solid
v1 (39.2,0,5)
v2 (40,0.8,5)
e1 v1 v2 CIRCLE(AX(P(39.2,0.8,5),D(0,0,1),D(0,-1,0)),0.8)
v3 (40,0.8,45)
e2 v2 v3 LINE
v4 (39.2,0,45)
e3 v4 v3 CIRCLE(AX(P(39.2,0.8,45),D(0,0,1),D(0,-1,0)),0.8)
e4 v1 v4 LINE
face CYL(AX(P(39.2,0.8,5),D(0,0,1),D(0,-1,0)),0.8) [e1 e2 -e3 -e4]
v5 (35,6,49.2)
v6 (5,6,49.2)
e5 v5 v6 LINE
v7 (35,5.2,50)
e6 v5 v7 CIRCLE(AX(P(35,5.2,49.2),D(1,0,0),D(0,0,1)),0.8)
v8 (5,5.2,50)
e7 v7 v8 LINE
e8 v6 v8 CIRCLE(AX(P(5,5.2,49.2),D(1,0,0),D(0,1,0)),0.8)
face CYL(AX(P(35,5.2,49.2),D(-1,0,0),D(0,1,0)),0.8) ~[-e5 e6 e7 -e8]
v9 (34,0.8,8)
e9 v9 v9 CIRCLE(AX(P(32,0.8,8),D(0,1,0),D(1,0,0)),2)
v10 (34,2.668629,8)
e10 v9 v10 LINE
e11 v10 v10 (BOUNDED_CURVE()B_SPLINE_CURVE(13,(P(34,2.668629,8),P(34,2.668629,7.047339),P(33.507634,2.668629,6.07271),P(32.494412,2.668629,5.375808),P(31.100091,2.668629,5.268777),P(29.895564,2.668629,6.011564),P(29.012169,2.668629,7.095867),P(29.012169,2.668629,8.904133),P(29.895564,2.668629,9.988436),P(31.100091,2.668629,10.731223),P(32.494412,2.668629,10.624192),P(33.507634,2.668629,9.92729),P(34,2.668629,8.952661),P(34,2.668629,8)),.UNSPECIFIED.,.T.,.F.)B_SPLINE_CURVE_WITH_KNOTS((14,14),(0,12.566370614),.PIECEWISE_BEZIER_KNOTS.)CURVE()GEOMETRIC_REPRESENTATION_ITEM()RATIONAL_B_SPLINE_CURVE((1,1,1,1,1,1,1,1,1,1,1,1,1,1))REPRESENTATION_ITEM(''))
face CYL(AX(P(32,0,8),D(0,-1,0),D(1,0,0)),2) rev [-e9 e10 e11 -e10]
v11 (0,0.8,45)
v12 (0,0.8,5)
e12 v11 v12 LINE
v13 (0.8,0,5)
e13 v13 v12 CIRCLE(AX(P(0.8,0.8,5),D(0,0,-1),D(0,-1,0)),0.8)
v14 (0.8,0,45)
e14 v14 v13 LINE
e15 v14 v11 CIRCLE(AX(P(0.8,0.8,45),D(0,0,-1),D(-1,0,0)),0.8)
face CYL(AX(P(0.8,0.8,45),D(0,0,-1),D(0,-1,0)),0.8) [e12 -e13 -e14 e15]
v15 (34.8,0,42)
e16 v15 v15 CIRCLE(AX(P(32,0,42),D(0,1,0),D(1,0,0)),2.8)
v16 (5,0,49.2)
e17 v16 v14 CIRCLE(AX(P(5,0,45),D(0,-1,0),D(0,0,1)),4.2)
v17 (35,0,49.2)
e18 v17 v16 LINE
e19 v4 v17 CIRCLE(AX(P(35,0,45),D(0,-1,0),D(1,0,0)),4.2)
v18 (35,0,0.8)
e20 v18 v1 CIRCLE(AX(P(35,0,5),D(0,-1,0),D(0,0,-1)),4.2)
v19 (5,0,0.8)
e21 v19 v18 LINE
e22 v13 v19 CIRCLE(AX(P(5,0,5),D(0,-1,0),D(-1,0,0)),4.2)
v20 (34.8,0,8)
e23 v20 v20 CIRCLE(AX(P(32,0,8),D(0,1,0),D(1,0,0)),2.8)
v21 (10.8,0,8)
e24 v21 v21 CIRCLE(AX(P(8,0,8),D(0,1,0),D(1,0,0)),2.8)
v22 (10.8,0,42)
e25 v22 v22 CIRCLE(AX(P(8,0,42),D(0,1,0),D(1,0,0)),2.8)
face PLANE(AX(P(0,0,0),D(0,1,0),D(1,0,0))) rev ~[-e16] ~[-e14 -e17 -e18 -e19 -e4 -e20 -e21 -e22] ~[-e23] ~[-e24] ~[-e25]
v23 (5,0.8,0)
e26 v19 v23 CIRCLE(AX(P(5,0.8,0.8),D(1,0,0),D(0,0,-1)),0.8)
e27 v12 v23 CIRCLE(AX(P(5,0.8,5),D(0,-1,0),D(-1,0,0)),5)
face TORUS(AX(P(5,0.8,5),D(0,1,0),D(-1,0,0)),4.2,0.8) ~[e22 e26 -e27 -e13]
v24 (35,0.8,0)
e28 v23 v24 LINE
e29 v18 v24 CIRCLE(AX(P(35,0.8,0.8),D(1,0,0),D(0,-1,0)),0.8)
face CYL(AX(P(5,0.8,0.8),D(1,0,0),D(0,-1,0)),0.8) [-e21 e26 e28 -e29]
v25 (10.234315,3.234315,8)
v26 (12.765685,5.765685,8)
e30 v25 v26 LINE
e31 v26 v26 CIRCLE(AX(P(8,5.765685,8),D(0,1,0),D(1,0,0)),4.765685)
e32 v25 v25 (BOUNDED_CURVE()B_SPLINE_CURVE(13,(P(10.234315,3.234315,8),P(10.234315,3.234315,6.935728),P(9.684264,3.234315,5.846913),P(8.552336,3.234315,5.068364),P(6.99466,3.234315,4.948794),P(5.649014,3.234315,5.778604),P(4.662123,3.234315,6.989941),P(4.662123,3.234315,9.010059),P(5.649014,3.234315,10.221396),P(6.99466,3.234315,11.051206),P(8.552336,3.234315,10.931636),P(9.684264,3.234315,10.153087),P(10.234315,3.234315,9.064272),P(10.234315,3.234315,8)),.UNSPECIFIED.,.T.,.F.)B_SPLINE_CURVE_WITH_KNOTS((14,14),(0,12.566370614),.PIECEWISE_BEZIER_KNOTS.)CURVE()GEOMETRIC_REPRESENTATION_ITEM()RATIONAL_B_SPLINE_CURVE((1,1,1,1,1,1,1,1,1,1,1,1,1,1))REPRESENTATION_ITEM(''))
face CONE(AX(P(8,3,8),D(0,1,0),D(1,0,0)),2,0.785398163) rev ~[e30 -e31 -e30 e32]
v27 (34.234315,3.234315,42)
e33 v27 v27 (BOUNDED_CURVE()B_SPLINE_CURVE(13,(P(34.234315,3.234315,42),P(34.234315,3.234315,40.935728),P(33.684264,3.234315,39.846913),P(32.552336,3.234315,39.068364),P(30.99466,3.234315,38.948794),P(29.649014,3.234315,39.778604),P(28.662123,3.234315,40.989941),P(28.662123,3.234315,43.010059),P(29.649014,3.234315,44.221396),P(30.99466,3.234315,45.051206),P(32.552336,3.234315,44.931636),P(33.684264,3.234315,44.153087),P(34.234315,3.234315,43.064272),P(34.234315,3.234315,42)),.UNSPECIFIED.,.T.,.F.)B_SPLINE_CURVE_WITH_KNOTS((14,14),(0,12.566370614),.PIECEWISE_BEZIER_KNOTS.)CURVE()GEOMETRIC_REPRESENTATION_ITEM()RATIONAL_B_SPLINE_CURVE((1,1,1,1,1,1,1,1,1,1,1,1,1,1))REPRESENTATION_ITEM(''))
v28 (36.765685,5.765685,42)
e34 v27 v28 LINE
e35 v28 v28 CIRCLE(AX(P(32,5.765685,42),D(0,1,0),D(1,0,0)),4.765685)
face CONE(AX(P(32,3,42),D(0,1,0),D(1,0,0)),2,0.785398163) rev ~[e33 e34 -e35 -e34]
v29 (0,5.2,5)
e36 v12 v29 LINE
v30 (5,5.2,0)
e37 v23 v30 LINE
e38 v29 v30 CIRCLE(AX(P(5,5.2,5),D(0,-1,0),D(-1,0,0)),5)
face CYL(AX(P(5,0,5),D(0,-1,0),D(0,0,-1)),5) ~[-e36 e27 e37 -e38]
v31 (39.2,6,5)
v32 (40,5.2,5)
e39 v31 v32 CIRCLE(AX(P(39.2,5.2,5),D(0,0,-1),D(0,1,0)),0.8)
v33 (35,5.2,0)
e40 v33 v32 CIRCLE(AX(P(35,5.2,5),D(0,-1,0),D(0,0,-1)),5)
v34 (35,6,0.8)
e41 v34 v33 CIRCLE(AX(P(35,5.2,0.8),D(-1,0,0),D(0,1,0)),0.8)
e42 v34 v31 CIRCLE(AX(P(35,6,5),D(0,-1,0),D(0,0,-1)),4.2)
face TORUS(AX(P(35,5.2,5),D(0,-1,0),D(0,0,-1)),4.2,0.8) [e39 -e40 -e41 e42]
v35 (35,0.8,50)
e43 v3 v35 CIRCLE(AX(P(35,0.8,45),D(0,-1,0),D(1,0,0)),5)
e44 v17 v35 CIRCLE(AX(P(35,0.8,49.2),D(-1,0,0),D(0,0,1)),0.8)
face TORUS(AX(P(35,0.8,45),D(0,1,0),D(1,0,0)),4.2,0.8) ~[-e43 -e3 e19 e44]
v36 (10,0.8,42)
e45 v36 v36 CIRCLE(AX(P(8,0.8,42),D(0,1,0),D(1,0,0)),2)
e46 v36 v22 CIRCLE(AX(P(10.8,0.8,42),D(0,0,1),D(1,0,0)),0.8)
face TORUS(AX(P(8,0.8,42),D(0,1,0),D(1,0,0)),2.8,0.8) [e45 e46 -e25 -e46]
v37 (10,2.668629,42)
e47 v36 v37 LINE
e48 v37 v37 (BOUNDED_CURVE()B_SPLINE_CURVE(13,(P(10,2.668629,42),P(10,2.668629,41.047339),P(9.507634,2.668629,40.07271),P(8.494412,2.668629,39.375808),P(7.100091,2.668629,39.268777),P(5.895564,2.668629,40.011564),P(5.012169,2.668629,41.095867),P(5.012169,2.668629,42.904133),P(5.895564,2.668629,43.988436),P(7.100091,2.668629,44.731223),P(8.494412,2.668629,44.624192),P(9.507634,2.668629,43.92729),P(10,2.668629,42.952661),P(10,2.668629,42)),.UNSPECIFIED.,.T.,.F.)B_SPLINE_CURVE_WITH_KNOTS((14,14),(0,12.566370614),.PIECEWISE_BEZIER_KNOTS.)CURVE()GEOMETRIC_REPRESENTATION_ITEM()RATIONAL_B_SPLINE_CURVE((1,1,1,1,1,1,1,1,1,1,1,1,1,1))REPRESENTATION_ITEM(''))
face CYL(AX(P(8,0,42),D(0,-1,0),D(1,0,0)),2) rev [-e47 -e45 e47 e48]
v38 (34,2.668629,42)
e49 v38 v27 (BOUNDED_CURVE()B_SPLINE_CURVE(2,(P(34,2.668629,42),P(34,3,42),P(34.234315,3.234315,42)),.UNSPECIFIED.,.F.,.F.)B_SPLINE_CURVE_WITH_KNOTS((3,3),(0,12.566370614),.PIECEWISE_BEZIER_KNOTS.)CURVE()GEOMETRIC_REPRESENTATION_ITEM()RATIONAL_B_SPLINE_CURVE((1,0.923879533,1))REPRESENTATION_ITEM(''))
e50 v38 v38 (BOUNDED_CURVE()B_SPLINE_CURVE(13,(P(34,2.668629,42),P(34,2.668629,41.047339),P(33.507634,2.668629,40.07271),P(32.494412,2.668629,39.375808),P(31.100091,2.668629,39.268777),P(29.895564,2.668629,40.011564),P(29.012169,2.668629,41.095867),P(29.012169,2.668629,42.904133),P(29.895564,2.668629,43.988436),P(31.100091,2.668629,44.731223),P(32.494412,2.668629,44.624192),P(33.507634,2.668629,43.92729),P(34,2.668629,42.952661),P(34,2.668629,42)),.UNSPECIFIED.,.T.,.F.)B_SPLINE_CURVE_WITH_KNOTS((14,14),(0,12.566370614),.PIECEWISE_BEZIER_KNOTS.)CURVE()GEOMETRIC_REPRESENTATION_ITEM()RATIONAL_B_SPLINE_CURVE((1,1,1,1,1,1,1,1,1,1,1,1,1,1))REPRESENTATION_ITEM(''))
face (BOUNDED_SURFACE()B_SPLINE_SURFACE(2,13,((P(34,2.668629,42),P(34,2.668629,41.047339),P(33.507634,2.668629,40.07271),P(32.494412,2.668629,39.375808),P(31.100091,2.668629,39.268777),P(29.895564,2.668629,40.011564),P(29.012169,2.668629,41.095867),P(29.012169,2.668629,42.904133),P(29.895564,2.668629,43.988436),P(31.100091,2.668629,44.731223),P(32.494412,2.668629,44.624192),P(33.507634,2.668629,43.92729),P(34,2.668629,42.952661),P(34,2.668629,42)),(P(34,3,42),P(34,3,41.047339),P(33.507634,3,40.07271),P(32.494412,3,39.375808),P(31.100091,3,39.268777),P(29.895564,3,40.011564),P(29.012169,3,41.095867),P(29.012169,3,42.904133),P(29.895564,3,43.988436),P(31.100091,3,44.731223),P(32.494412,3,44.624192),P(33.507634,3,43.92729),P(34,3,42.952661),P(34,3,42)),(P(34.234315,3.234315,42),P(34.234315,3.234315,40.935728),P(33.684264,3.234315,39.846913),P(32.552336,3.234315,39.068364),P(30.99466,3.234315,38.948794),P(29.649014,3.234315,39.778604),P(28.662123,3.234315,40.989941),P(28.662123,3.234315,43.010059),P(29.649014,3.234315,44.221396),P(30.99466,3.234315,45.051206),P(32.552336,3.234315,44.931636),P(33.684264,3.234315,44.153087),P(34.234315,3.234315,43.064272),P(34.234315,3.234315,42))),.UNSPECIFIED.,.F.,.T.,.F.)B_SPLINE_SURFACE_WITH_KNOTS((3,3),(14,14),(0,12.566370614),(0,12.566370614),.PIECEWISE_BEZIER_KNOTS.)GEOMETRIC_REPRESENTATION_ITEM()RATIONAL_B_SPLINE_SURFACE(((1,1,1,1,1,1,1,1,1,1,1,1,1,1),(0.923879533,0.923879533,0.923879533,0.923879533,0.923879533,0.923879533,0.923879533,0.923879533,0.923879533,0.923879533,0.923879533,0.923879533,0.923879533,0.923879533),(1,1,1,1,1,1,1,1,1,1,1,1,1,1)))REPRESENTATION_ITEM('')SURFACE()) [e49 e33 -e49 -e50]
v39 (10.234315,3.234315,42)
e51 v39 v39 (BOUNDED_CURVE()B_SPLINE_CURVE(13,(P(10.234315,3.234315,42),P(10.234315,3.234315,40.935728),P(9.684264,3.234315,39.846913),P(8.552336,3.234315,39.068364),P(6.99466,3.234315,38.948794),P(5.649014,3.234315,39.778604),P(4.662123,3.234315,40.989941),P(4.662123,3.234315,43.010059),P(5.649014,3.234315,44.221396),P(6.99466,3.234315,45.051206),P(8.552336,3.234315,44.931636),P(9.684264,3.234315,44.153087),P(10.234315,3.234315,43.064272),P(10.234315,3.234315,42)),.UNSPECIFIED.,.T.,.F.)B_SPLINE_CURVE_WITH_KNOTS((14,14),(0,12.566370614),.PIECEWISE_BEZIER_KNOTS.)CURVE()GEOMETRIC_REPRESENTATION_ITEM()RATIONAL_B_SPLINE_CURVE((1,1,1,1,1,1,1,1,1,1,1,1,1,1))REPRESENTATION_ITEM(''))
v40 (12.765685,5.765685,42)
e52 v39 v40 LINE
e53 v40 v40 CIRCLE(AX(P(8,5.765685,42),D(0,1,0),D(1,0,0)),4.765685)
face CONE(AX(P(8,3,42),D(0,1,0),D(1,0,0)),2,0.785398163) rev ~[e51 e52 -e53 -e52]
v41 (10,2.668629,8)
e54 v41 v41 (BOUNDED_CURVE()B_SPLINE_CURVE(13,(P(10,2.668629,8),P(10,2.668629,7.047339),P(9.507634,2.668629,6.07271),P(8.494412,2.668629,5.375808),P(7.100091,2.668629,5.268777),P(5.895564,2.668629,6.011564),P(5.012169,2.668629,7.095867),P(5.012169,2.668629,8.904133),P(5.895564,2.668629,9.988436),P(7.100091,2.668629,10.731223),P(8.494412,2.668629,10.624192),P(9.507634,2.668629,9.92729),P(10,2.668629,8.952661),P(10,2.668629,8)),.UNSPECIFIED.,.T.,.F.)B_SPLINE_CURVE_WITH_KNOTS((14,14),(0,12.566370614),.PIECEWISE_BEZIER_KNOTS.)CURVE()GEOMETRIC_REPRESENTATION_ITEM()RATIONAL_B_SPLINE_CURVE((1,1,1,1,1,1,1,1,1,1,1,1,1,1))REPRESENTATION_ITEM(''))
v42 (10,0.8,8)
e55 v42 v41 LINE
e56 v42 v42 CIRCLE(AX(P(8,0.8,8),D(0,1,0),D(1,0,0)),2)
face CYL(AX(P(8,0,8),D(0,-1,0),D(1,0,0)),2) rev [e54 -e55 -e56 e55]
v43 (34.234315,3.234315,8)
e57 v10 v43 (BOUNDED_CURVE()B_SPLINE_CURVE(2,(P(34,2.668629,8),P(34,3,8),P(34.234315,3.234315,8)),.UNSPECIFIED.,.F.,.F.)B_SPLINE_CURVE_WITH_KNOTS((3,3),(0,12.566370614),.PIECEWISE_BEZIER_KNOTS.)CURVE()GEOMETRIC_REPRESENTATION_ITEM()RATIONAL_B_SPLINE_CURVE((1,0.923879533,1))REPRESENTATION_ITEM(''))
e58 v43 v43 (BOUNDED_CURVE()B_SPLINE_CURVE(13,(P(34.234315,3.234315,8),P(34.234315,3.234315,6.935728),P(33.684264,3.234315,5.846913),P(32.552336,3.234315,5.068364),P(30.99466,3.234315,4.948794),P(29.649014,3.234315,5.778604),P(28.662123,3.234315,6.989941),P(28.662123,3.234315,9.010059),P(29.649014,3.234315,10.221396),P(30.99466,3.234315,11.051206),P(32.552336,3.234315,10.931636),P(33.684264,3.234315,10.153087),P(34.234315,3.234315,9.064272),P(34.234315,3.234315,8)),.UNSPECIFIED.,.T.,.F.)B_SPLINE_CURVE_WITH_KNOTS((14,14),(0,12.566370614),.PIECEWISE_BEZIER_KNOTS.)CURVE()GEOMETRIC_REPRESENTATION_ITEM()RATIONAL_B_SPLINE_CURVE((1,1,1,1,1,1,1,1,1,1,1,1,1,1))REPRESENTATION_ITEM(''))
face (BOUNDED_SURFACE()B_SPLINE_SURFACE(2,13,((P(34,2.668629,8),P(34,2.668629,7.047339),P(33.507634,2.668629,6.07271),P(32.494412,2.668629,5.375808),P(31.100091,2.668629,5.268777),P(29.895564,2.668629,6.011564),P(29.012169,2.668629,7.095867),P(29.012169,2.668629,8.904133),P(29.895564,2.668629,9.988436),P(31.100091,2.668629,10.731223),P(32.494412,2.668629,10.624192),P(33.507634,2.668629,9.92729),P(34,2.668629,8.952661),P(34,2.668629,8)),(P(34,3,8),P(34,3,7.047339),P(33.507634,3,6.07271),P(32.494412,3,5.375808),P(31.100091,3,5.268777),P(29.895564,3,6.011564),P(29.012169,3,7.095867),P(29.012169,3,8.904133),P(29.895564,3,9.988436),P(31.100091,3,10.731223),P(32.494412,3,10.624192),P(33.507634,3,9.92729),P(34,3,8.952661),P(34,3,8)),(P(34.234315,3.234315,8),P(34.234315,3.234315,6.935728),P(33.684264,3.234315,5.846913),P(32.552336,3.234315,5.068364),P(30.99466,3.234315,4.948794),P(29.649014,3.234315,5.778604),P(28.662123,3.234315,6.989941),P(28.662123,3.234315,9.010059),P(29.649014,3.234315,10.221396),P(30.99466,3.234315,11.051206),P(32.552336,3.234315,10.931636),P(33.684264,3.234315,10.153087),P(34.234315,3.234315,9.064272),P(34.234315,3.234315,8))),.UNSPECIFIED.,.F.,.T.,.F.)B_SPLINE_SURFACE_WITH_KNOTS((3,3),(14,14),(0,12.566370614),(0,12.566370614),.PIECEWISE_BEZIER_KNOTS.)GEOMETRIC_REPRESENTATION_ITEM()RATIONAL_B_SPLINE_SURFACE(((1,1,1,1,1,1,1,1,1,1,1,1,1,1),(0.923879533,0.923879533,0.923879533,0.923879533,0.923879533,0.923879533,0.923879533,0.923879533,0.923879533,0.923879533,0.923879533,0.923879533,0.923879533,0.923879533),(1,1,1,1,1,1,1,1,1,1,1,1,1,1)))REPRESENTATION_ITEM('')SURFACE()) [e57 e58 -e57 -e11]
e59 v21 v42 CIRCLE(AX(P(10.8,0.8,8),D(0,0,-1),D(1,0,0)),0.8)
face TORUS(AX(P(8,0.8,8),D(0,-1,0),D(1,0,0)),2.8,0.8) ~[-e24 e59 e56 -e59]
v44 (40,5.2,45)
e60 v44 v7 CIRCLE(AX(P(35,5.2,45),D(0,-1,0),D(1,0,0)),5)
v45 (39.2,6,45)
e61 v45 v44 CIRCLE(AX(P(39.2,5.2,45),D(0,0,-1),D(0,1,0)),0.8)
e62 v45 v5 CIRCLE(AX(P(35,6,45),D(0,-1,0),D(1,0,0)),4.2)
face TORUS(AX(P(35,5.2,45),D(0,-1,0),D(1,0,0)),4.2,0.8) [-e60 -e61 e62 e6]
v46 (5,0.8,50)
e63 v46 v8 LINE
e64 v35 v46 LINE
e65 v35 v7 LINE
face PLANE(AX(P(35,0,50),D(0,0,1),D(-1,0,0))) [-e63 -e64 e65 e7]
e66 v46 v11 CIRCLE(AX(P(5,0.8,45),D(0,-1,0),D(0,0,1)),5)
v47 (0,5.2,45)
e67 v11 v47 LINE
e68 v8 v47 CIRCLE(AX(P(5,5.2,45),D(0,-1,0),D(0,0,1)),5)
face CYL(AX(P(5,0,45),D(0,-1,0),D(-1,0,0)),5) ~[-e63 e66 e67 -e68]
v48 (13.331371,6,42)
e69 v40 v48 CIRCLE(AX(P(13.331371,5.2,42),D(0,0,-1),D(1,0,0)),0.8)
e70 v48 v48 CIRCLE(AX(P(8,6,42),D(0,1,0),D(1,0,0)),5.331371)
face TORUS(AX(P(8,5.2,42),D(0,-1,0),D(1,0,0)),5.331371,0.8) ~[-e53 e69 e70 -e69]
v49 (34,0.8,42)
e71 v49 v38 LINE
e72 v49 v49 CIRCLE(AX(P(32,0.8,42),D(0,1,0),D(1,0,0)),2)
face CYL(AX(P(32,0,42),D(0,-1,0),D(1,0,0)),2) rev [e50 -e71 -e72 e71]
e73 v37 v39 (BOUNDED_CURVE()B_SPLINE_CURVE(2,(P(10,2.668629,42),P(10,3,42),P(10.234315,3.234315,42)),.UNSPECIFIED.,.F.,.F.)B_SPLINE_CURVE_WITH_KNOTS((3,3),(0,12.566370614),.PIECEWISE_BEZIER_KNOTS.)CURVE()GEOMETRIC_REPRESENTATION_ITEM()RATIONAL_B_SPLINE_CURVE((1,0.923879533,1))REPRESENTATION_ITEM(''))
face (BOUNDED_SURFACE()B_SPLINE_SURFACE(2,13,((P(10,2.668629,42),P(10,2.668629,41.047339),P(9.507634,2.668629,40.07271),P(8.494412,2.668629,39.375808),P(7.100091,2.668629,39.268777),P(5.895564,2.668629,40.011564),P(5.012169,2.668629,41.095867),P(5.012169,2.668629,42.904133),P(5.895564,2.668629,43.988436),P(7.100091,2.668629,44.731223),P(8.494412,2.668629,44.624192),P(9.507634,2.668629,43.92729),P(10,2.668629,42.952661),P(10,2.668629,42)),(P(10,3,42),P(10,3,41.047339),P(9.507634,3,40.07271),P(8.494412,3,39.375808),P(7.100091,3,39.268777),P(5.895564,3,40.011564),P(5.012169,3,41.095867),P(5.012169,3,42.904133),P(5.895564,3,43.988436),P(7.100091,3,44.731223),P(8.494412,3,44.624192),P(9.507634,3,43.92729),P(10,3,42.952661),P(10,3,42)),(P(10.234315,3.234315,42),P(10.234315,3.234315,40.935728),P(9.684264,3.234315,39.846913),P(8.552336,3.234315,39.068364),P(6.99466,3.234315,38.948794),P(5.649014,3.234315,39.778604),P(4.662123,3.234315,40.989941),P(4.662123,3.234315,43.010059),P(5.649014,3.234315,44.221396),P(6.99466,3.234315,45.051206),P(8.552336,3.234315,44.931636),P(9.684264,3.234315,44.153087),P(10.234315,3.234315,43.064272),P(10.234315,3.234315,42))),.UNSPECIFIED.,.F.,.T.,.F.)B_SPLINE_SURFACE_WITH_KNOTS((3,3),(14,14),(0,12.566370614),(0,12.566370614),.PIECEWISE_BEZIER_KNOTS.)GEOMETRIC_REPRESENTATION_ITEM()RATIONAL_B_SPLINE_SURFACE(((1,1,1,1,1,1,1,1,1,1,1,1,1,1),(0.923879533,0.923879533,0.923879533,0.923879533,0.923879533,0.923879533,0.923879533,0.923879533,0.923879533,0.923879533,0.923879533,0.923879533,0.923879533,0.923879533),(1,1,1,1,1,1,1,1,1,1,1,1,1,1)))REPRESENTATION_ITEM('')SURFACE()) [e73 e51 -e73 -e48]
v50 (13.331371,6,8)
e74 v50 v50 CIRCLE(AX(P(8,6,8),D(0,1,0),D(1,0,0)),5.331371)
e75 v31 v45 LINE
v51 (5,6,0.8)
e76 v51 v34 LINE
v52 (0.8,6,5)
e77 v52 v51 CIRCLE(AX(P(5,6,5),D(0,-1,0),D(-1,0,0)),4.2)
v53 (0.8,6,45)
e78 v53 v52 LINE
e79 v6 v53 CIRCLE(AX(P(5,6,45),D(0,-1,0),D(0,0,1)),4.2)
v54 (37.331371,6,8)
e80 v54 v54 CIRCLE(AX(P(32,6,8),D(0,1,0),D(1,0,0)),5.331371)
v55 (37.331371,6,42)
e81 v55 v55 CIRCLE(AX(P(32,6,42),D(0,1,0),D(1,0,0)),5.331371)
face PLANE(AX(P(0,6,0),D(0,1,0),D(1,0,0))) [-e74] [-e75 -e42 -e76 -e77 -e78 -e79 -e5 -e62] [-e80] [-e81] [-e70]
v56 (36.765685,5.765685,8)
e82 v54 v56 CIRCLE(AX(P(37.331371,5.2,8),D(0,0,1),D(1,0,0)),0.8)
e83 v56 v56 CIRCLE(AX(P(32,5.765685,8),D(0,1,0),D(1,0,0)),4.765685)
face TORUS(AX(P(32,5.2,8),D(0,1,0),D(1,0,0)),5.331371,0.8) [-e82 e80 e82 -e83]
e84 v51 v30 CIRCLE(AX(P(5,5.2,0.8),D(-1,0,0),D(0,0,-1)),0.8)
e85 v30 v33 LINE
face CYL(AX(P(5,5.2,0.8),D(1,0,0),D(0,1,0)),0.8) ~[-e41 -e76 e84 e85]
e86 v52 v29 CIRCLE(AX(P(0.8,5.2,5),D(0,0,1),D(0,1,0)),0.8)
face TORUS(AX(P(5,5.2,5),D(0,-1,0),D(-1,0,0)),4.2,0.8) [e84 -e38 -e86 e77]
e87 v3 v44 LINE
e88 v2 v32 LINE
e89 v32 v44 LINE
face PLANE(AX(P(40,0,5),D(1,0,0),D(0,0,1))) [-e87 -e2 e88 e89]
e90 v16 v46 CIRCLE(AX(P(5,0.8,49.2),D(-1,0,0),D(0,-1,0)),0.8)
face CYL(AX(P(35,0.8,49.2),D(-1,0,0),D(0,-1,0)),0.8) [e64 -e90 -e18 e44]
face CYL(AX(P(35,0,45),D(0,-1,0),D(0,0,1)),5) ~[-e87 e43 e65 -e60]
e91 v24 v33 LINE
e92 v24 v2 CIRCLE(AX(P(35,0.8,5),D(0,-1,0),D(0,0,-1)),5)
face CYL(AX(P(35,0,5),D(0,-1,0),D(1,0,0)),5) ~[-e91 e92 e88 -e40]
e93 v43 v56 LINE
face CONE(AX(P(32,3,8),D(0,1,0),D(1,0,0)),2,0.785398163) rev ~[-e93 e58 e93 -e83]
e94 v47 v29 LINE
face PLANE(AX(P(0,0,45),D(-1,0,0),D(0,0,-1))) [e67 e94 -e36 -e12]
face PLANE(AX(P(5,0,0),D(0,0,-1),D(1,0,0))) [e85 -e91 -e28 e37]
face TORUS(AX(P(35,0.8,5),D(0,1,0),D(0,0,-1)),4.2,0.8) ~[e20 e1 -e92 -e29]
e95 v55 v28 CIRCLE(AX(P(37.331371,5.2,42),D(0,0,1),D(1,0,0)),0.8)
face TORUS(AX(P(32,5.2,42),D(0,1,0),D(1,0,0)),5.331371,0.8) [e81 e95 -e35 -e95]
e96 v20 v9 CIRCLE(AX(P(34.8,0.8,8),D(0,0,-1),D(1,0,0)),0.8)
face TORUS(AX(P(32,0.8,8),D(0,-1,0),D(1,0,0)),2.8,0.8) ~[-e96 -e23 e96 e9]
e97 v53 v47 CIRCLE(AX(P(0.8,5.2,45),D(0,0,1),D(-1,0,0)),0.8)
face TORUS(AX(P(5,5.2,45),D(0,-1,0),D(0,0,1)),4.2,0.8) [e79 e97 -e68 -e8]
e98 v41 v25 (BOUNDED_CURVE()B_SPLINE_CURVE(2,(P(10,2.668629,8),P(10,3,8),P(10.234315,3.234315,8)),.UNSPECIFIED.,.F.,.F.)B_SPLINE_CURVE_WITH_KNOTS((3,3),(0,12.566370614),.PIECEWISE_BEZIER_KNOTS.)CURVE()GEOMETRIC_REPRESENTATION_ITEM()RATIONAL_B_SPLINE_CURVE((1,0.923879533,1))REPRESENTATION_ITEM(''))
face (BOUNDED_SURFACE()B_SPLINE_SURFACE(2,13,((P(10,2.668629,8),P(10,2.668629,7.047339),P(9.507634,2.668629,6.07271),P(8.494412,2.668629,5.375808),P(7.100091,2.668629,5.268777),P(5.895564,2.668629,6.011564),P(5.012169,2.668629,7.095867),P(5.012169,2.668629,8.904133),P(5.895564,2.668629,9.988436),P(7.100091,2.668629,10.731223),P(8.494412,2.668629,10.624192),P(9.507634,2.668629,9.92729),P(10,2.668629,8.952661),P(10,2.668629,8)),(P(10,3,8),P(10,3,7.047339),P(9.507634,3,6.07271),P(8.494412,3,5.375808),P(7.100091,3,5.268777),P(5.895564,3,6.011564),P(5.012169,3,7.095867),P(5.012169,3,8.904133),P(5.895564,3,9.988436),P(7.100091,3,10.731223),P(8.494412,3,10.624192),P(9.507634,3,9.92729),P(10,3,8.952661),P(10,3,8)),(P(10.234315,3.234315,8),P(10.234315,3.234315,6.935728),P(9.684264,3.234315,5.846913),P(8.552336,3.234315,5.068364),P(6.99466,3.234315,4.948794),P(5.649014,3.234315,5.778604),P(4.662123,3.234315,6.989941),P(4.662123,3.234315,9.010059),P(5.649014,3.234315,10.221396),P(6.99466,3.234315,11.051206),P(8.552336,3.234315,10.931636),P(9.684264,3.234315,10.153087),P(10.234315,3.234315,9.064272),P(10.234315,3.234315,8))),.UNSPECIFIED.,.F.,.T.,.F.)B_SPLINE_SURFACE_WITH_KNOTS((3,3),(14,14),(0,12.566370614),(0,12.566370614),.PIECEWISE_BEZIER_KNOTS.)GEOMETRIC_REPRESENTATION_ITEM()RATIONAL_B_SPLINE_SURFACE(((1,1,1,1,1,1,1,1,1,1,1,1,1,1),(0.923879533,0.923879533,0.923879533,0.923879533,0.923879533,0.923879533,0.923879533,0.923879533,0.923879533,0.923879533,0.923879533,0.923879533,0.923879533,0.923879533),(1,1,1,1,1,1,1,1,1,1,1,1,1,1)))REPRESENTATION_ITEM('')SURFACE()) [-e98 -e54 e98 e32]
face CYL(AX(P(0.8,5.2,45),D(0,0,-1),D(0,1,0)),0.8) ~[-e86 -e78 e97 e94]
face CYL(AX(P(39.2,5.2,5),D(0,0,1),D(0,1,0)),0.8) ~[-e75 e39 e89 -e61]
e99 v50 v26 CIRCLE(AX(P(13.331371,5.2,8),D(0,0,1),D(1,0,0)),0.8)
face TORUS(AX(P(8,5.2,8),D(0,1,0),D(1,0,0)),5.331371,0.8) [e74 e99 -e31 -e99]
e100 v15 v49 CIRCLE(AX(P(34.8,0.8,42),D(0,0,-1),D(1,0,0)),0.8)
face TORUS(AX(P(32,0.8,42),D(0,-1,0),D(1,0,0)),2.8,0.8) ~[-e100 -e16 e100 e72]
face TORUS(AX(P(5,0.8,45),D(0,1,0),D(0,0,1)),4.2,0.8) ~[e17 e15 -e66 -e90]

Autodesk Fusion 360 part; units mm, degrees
sketch "Skizze1" plane through (0, 0, 0) normal (0, 1, 0) x (1, 0, 0)
  line L0 (5, 0) -> (35, 0)
  line L1 (40, -5) -> (40, -45)
  line L2 (35, -50) -> (5, -50)
  line L3 (0, -45) -> (0, -5)
  arc A0 (5, 0) -> (0, -5) centre (5, -5) ccw
  arc A1 (40, -5) -> (35, 0) centre (35, -5) ccw
  arc A2 (35, -50) -> (40, -45) centre (35, -45) ccw
  arc A3 (0, -45) -> (5, -50) centre (5, -45) ccw
  circle A4 centre (8, -42) radius 2
  circle A5 centre (32, -42) radius 2
  circle A6 centre (8, -8) radius 2
  circle A7 centre (32, -8) radius 2
  point P0 (0, -50)
  dimension "d1" = 50
  dimension "d2" = 5
  dimension "d3" = 5
  dimension "d4" = 5
  dimension "d5" = 5
  dimension "d6" = 40
  dimension "d8" = 4
  dimension "d9" = 4
  dimension "d10" = 8
  dimension "d11" = 8
  dimension "d12" = 8
  dimension "d13" = 8
  dimension "d19" = 4
  dimension "d20" = 4
  dimension "d21" = 8
  dimension "d22" = 8
extrude "Extrusion1" add sketch "Skizze1" along normal blind 6
chamfer "Fase1" distance 3 angle 45 2 edges at (30.1353, 6, 41.2768) (6.1353, 6, 41.2768)
chamfer "Fase1" distance 3 angle 45 2 edges at (30.1353, 6, 7.2768) (6.1353, 6, 7.2768)
fillet "Abrundung1" radius 0.8 18 faces at (40, 2, 18.3333) (36.6353, 4, 0.275) (15, 2, 0) (2.7089, 4, 0.5558) (0, 2, 31.6667) (2.7089, 4, 49.4442) (25, 2, 50) (38.0908, 4, 48.9303) (17.0391, 6, 20.6364) (9.9975, 2, 42.0997) (32.9643, 5.3333, 12.2247) (10.1667, 5.3333, 38.2472) (34.1667, 5.3333, 38.2472) (9.9975, 2, 8.0997) (33.9975, 2, 42.0997) (33.9975, 2, 8.0997) (16.4157, 0, 19.8546) (10.1667, 5.3333, 11.7528)
equation "d2 = d3"
equation "d4 = d3"
equation "d5 = d3"
equation "d7 = 4 mm"
equation "d8 = d7"
equation "d9 = d7"
equation "d10 = d12"
equation "d11 = d12"
equation "d13 = d12"
equation "d19 = d7"
equation "d20 = d7"
equation "d22 = d21"
